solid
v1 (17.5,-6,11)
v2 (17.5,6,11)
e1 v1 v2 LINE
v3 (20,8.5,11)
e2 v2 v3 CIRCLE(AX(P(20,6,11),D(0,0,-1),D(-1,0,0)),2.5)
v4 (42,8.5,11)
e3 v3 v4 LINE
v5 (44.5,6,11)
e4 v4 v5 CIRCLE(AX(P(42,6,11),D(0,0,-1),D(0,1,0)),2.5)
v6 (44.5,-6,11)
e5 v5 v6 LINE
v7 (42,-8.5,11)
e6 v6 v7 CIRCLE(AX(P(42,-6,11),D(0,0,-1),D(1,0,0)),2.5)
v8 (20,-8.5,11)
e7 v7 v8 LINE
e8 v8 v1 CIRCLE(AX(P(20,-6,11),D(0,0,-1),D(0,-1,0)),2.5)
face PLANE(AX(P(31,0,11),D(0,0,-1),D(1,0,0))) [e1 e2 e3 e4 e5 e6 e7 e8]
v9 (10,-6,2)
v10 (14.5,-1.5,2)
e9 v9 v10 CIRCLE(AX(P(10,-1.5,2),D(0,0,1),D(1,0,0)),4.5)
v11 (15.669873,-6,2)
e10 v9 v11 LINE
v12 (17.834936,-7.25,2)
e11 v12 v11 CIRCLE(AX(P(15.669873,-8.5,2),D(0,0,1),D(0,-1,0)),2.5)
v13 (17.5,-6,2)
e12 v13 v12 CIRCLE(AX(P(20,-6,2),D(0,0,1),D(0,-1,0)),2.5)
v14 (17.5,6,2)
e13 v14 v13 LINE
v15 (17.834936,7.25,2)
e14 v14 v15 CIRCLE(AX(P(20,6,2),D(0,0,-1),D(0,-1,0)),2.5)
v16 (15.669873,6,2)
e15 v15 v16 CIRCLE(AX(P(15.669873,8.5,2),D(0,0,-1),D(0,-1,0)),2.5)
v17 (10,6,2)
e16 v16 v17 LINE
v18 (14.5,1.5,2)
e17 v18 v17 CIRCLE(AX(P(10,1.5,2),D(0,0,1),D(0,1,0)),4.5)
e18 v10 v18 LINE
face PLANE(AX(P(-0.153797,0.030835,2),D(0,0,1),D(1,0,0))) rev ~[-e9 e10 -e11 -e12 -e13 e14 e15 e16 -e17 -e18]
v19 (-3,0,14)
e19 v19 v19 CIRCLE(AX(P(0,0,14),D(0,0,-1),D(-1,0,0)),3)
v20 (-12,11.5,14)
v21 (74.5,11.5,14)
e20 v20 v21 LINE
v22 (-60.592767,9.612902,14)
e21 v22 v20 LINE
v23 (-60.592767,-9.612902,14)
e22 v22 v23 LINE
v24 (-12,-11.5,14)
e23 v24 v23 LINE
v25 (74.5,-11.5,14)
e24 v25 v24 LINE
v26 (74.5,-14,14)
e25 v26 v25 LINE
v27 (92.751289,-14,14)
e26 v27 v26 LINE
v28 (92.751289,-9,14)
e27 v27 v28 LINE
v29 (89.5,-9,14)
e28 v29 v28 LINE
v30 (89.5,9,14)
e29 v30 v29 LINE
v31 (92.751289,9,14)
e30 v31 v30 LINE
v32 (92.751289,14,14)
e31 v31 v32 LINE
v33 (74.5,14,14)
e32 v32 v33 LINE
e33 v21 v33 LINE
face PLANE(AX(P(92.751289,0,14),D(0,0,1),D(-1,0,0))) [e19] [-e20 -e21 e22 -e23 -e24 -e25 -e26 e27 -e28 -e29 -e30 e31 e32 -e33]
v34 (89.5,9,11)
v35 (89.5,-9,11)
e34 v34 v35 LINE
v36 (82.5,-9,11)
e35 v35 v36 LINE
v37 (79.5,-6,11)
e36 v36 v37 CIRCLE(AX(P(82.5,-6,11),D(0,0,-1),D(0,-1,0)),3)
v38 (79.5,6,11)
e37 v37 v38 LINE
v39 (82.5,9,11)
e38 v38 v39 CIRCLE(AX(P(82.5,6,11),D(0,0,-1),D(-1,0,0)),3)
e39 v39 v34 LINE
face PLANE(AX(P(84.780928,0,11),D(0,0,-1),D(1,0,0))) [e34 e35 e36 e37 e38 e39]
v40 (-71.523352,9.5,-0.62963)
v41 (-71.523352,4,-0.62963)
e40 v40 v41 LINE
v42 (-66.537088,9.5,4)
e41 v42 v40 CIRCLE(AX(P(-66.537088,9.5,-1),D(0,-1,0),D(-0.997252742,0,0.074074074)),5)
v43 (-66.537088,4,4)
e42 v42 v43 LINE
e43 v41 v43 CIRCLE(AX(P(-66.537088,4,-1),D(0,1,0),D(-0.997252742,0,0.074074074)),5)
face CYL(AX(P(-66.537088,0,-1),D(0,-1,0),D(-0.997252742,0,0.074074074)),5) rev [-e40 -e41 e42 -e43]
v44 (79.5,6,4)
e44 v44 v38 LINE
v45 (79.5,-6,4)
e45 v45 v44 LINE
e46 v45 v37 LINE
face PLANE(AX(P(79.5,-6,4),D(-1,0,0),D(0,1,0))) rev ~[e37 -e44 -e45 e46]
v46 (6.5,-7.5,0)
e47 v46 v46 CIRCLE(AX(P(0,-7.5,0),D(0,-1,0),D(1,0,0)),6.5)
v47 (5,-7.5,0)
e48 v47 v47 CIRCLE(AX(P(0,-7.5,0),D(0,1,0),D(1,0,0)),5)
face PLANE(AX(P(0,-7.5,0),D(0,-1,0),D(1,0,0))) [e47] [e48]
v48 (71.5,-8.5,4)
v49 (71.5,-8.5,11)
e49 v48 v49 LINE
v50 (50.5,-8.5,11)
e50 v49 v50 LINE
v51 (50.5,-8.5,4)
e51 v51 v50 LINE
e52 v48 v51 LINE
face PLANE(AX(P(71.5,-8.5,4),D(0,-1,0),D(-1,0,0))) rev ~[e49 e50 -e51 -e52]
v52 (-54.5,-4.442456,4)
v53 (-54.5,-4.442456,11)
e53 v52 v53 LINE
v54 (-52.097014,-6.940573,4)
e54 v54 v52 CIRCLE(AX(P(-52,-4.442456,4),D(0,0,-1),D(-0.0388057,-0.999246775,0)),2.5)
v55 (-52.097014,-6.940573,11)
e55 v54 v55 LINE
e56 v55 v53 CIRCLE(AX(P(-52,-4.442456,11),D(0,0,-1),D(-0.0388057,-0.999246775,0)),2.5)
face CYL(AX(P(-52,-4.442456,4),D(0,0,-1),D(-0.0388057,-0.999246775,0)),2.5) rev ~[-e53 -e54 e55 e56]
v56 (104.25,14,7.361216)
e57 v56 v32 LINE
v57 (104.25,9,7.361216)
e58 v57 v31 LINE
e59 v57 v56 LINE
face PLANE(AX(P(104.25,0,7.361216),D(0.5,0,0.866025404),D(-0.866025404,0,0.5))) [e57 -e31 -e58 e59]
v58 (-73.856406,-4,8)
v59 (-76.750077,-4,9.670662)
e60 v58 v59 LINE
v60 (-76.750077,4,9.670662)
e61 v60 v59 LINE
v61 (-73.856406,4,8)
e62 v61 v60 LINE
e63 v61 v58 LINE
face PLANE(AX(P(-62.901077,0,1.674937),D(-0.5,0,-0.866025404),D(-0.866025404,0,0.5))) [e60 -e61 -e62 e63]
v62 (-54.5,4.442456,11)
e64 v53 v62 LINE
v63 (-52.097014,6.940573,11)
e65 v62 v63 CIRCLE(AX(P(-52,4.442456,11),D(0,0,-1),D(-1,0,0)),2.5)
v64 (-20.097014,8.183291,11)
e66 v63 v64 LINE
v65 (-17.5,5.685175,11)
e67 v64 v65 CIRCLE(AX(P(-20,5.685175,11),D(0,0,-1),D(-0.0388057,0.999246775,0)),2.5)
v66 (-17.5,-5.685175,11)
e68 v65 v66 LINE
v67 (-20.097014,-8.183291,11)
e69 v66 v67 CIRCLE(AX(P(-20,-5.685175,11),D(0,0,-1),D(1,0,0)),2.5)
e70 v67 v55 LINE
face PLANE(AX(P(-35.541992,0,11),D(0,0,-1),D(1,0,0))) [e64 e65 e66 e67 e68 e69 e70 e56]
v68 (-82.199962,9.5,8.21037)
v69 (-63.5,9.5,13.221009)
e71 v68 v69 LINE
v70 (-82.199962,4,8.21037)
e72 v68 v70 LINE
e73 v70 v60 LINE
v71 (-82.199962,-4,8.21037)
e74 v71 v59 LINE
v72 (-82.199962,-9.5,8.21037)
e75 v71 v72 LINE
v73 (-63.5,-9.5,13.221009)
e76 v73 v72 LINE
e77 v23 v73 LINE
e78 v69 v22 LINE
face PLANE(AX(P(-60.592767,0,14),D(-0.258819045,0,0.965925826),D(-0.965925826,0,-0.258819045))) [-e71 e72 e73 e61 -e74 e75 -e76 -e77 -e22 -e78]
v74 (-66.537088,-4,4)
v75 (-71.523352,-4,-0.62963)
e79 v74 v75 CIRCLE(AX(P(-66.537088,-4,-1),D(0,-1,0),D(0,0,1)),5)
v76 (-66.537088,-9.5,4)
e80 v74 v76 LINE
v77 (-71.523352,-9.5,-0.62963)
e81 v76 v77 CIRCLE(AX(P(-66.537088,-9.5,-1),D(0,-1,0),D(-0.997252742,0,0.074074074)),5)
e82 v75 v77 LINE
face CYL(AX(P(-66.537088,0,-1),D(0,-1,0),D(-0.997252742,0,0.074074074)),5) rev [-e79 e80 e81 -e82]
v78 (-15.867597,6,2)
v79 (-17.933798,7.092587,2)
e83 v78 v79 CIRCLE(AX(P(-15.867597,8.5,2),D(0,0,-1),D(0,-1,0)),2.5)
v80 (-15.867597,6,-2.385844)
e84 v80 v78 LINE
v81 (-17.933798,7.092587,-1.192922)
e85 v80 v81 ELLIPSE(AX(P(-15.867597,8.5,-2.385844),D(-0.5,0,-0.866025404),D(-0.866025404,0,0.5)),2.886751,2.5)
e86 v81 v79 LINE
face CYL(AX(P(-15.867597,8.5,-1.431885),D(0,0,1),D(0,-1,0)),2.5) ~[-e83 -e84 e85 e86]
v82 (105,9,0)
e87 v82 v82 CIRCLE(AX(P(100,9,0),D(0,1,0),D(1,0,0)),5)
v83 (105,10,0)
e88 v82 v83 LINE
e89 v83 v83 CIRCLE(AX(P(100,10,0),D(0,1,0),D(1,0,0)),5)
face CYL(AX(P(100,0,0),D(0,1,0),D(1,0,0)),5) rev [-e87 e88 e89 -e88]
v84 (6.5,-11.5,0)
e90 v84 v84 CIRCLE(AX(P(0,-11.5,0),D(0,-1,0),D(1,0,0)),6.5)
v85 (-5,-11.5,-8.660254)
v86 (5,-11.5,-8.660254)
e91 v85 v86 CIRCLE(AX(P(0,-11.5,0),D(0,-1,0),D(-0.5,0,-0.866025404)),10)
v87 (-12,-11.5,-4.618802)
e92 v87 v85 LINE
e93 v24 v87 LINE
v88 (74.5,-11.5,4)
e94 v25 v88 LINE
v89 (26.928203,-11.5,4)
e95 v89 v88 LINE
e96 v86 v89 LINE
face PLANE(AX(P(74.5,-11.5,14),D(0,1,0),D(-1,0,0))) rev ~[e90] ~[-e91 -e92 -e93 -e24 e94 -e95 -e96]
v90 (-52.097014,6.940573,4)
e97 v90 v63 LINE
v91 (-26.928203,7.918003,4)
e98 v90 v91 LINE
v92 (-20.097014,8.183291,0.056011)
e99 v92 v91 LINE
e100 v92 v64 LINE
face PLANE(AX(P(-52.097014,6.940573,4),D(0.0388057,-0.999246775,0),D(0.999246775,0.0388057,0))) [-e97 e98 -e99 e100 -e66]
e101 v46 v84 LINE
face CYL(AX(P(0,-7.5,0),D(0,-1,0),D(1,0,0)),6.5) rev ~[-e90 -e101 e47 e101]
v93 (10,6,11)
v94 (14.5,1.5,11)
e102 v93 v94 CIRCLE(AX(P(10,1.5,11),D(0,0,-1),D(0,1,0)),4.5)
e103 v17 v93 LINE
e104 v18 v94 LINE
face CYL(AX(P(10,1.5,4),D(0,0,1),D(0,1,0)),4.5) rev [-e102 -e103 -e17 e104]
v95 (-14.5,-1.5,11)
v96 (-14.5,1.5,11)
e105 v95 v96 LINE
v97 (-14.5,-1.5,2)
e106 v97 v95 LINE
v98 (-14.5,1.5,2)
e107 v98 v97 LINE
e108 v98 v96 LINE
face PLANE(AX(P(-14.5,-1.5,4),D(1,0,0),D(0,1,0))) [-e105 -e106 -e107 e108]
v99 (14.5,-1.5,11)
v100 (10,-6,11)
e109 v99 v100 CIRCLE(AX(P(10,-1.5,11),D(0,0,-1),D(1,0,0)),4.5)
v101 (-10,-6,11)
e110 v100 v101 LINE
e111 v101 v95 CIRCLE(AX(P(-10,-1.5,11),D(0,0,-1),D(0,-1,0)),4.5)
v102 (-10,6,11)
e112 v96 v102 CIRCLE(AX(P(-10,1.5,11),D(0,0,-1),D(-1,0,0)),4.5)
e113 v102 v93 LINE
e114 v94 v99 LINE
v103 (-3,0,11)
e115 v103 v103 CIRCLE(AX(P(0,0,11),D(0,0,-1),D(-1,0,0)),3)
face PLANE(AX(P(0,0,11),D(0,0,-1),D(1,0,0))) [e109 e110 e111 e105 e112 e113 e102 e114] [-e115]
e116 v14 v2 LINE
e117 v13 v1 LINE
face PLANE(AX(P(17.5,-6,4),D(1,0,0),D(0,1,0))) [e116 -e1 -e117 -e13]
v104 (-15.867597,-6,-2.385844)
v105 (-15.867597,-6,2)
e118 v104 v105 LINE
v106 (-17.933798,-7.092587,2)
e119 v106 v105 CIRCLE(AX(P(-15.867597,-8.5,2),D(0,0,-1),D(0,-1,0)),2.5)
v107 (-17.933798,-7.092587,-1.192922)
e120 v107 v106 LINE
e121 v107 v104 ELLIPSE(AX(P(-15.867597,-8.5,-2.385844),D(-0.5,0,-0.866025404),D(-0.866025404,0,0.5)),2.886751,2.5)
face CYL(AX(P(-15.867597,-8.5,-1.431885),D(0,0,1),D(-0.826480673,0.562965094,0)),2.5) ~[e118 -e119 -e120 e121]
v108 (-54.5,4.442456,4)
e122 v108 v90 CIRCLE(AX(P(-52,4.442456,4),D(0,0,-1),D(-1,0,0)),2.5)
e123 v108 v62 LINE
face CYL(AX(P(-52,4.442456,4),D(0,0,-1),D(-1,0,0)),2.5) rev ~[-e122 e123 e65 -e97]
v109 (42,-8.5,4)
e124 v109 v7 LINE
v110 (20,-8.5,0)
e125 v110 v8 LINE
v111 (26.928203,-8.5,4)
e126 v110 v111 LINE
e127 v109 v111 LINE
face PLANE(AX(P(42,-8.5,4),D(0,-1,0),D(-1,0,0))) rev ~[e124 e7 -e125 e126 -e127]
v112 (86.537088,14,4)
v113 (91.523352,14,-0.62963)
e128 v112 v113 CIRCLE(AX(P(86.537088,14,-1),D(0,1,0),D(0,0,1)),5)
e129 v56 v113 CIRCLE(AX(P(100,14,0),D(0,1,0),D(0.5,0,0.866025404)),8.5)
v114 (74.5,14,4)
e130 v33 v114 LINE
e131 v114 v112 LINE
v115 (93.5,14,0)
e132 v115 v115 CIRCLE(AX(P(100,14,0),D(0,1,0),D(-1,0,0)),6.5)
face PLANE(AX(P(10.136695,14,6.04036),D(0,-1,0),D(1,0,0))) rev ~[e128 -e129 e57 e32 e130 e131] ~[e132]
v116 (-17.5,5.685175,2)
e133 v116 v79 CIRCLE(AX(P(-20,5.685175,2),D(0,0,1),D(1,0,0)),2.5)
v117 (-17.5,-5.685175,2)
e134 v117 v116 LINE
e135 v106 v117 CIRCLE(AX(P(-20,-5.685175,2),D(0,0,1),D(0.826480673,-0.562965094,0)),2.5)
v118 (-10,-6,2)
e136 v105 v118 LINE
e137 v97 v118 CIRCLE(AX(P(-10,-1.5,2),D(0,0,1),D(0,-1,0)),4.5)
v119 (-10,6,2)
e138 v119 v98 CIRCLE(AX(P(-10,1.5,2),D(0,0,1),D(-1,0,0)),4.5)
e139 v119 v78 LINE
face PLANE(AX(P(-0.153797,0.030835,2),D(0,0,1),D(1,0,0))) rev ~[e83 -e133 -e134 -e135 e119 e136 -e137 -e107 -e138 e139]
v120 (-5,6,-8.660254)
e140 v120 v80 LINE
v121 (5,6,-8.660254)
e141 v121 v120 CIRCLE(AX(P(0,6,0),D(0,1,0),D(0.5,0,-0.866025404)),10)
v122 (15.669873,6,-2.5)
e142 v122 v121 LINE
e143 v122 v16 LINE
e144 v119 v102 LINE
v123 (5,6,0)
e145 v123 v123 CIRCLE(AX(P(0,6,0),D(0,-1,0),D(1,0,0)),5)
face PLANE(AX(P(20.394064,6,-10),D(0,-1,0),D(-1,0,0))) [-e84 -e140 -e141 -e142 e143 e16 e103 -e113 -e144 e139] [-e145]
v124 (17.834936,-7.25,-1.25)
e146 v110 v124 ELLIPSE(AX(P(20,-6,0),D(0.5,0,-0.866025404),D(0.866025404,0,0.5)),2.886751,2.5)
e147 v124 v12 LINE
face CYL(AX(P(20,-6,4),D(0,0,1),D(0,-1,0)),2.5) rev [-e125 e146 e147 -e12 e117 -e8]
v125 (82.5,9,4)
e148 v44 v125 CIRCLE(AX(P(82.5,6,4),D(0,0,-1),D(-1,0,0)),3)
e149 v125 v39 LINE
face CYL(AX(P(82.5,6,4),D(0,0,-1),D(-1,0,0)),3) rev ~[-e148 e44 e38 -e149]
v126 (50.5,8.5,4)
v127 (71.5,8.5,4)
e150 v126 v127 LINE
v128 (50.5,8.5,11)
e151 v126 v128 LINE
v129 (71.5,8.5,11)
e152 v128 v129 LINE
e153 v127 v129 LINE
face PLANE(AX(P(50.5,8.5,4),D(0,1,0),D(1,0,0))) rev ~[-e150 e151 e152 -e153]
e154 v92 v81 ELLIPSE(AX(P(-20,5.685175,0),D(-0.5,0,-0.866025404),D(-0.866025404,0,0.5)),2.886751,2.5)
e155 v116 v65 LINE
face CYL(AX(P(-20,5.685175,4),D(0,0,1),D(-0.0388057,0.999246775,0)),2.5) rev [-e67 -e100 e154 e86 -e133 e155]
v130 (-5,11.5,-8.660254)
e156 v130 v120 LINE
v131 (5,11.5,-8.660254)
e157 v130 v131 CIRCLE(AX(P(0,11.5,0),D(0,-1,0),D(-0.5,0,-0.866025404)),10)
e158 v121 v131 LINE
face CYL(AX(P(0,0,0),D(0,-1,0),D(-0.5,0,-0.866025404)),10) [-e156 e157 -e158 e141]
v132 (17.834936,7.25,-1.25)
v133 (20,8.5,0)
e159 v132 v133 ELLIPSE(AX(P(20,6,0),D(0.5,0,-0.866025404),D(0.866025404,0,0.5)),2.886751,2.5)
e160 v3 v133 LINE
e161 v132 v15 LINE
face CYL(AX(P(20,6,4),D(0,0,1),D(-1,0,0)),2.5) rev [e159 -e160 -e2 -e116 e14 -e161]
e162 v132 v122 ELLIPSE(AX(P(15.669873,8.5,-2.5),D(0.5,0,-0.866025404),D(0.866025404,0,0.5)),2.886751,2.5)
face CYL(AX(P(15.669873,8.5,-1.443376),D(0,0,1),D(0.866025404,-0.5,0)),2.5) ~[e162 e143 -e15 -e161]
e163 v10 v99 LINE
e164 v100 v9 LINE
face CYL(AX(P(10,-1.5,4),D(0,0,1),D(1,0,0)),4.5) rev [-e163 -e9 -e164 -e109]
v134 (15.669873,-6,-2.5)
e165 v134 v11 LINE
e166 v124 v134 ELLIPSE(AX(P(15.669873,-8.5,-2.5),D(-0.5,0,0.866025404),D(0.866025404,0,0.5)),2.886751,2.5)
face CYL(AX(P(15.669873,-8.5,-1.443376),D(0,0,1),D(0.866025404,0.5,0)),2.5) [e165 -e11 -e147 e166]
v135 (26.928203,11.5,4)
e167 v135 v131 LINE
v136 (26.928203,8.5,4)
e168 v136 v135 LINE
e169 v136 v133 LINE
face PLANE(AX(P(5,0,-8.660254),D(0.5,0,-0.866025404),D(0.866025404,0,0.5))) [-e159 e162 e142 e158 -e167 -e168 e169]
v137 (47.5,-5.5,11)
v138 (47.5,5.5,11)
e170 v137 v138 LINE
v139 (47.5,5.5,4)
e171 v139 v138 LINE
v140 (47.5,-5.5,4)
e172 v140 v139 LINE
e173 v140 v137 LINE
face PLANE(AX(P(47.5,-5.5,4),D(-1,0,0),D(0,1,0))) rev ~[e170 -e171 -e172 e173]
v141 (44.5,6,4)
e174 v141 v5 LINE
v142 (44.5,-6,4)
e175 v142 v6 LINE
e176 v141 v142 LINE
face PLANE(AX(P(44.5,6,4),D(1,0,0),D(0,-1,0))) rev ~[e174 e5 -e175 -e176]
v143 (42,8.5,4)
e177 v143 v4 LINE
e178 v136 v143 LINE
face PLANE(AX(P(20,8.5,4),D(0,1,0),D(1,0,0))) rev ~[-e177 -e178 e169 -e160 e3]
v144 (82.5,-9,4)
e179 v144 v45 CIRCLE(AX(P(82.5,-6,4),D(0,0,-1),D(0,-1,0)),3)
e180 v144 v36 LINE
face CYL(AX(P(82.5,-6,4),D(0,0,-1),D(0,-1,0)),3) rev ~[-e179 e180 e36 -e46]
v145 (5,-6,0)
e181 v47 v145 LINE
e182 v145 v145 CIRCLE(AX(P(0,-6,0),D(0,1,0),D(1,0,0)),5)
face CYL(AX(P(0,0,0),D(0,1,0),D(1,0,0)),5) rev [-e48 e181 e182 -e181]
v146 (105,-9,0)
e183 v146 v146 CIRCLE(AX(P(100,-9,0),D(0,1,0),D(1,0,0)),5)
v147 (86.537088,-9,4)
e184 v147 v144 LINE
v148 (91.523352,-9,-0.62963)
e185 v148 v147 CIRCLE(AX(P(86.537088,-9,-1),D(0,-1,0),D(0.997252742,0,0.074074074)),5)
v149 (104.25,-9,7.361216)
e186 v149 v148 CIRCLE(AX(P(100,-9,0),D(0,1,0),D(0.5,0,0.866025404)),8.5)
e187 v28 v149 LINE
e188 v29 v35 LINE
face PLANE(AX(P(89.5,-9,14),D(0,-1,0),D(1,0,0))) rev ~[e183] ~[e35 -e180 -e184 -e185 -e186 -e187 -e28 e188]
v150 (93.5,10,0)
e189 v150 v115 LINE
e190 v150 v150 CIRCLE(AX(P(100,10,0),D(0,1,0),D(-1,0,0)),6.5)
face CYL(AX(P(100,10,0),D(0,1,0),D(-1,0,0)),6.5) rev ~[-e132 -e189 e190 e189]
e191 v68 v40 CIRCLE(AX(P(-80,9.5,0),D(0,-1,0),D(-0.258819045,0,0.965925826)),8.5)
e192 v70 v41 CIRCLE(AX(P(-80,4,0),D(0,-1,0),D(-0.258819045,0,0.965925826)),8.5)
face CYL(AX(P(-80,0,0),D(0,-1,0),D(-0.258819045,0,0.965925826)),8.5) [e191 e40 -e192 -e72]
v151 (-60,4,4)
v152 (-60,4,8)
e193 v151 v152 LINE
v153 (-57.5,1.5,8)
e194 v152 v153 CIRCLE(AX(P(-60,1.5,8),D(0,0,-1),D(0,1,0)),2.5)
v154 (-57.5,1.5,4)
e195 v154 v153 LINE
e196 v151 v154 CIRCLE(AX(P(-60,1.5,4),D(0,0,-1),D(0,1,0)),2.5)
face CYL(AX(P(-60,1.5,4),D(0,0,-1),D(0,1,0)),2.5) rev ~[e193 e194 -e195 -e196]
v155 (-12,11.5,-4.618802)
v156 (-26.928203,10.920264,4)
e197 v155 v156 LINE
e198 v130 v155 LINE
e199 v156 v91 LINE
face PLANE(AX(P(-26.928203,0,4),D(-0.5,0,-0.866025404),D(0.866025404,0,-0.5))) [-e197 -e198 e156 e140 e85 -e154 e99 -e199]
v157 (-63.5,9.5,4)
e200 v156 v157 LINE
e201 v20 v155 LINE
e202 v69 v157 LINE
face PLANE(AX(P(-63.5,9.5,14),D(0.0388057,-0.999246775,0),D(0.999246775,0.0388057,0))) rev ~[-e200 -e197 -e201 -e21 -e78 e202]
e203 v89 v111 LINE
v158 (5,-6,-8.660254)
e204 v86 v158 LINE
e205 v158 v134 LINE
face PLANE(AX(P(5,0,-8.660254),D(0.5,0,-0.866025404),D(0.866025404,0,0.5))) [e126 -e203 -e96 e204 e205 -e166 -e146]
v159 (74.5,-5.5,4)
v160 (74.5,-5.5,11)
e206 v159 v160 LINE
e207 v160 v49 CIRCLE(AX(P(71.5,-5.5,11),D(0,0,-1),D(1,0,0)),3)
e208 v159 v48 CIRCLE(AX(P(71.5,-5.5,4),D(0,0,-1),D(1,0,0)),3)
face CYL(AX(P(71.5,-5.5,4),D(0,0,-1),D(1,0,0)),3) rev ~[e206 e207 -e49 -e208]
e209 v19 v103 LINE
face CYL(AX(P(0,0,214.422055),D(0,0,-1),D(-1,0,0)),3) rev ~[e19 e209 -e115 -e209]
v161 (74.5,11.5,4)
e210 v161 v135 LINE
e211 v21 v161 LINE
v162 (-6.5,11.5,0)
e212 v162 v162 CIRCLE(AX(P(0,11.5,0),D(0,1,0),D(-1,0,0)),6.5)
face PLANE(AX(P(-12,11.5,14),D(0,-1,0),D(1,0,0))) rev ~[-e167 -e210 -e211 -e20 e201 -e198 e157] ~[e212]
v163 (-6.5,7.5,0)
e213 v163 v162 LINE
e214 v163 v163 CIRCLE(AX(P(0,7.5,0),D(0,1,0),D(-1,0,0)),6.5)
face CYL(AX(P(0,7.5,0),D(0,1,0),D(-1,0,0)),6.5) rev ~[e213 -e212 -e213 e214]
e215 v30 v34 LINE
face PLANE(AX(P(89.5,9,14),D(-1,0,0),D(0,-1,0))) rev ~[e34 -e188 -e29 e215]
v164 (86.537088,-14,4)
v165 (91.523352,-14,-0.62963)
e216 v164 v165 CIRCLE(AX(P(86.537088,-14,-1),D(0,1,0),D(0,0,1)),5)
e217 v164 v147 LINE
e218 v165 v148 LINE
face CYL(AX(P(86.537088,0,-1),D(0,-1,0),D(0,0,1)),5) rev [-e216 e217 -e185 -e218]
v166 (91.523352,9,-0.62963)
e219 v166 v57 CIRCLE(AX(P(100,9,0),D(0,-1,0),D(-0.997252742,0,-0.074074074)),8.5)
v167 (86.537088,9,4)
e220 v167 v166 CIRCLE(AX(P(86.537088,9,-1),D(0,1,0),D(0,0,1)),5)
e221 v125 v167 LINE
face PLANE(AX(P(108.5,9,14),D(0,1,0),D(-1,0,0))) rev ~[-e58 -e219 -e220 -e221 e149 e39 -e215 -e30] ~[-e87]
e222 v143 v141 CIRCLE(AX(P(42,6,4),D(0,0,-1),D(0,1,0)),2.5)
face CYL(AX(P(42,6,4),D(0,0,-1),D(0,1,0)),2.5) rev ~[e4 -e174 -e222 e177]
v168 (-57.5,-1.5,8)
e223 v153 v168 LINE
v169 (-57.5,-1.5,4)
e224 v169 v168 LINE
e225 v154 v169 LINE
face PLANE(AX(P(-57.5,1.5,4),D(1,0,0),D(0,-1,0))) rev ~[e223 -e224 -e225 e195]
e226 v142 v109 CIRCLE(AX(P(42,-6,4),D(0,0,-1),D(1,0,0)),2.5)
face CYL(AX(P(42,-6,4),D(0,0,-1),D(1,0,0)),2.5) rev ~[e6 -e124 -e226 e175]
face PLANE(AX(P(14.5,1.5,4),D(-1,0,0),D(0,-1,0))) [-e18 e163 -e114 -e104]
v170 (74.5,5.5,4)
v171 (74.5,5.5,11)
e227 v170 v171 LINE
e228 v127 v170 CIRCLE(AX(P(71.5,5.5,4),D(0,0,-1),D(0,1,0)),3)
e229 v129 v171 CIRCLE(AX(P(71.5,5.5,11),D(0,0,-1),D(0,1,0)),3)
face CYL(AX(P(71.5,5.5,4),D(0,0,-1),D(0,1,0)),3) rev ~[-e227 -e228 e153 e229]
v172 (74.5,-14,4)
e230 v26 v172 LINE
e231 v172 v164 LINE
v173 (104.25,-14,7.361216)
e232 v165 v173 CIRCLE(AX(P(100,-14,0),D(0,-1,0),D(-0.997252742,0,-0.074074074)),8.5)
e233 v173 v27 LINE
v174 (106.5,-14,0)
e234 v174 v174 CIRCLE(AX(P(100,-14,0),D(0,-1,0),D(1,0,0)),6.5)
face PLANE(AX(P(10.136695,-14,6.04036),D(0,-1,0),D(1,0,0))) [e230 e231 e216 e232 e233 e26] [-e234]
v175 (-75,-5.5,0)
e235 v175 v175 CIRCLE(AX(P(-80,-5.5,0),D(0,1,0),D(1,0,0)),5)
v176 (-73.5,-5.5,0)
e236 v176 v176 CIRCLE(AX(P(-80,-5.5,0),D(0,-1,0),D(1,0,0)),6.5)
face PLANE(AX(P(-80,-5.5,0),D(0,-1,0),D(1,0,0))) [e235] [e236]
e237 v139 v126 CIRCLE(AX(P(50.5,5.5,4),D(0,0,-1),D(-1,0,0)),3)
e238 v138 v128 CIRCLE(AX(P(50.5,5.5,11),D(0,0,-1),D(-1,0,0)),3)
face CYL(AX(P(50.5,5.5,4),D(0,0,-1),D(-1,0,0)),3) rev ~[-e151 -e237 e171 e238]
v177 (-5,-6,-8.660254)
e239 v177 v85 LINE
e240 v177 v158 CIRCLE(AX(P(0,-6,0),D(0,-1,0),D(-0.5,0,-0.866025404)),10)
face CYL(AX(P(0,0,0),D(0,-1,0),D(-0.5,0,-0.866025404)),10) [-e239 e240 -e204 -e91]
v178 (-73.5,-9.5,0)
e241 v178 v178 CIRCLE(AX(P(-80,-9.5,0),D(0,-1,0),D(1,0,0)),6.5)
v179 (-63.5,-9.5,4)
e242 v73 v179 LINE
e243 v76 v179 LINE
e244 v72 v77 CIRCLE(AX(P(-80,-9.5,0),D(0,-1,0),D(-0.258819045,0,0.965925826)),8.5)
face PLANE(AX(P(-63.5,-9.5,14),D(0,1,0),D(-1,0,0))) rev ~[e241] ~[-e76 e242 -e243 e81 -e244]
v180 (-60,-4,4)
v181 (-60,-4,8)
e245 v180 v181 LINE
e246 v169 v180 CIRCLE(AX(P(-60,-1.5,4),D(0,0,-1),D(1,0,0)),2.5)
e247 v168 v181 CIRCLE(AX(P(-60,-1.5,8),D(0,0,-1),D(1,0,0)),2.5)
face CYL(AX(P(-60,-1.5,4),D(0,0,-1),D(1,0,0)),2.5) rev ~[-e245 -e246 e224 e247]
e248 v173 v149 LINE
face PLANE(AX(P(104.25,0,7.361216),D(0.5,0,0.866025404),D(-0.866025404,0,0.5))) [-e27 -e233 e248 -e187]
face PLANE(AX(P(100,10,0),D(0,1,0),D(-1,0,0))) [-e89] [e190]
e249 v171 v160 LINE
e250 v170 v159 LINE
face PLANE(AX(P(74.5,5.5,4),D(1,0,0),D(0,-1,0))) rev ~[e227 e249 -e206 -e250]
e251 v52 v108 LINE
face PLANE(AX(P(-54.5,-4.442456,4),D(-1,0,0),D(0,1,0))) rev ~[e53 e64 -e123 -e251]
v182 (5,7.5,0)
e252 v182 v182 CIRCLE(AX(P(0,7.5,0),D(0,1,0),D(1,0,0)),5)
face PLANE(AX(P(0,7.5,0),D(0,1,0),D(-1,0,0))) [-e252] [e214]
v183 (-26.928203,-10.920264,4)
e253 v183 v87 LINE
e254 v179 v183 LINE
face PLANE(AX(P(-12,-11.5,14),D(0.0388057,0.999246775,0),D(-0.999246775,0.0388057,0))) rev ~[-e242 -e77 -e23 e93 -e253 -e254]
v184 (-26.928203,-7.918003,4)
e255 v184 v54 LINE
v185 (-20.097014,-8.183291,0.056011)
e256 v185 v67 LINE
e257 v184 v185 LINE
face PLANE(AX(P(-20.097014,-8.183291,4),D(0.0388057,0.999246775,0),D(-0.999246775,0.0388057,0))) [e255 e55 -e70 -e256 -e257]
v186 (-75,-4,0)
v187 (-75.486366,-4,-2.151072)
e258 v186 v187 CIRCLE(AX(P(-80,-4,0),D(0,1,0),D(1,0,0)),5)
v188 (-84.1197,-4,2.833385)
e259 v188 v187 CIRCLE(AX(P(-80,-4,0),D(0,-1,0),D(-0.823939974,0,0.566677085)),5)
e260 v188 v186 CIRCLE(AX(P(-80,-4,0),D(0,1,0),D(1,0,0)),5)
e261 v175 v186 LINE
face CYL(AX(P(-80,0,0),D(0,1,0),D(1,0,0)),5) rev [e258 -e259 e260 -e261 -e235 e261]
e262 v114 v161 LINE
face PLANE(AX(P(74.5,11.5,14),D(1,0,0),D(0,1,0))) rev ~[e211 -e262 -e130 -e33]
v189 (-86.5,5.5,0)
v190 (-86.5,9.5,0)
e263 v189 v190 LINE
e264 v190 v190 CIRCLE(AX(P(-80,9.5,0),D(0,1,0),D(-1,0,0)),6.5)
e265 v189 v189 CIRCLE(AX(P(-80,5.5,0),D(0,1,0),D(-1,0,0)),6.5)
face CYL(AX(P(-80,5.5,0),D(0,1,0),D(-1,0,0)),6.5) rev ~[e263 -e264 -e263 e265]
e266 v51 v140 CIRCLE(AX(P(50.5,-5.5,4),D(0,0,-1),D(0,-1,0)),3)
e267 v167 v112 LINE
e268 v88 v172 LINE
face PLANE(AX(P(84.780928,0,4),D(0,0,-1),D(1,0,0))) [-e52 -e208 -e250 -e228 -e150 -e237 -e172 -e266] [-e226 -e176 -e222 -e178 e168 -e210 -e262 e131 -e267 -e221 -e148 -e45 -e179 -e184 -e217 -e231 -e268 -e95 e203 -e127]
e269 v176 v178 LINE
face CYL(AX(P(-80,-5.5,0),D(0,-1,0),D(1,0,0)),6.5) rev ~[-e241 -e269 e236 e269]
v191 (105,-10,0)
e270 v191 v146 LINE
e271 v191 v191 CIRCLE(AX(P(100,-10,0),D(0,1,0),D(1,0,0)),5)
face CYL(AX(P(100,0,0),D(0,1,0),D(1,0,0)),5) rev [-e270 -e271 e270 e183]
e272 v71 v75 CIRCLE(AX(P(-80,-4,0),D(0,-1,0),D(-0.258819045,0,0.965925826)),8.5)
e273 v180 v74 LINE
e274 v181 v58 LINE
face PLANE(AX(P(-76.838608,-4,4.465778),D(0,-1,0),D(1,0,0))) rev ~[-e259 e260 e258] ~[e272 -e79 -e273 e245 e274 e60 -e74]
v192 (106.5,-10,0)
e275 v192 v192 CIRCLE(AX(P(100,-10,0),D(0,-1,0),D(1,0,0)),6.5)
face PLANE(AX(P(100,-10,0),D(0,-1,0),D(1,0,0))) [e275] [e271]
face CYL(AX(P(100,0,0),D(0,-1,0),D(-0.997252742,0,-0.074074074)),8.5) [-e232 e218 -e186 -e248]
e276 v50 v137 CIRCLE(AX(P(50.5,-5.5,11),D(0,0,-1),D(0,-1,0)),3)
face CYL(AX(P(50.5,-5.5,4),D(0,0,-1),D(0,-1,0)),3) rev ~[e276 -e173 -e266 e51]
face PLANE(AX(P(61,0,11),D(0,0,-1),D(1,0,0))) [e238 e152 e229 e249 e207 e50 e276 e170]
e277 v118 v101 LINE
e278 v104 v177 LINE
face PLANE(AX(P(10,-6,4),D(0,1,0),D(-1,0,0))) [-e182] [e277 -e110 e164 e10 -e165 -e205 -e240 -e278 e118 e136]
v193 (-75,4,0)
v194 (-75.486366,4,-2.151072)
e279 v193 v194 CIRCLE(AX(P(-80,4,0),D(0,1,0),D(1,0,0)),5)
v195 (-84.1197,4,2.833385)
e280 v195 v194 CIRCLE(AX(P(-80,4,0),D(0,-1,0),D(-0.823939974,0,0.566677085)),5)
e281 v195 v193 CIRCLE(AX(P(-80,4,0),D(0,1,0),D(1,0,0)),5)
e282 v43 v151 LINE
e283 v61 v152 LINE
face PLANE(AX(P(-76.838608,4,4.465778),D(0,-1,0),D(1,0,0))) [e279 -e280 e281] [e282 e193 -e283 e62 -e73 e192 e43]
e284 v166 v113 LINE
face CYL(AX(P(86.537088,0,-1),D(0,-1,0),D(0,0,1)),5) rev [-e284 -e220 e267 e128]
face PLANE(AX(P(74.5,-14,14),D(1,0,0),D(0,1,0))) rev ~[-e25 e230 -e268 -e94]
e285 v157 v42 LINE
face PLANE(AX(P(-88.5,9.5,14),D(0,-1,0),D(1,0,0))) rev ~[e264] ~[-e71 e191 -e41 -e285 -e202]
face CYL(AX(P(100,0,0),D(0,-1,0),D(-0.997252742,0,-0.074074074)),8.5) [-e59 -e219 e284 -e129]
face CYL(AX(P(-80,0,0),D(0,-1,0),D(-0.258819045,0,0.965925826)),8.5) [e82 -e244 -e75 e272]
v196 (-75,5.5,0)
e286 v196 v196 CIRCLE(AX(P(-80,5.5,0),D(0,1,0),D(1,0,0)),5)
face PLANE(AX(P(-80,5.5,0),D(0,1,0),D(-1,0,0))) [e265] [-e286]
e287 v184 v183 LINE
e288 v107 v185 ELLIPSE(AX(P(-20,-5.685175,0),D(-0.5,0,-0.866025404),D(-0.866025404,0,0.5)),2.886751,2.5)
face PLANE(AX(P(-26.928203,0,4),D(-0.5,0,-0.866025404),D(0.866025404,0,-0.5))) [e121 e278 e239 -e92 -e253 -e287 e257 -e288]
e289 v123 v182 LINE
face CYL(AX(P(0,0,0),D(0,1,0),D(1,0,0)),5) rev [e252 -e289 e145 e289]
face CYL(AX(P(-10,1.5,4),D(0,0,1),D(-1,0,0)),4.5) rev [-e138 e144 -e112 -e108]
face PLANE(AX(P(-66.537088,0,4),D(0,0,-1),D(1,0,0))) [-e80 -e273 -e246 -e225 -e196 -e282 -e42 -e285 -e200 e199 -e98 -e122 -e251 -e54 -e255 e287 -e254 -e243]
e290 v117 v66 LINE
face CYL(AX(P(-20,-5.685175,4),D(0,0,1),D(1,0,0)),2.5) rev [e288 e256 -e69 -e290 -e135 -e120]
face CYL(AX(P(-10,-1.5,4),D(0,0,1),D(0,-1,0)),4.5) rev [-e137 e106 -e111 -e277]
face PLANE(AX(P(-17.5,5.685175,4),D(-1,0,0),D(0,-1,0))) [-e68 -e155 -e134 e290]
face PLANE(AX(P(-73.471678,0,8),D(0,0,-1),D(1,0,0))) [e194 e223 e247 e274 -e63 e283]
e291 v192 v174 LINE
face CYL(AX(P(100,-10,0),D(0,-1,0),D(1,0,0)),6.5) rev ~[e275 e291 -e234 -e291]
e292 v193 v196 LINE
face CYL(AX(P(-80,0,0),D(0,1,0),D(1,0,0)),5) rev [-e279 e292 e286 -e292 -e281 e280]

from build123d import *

# Parameters (mm, degrees)
F0_R                   = 5
F1_DEPTH               = 14
F2_W                   = 220
F2_H                   = 50
F3_DEPTH               = 25
F5_DEPTH               = 25
F5_DEPTH_BACK          = 7
F7_DEPTH               = 25
F7_DEPTH_BACK          = 4
F9_DEPTH               = 4
F9_DEPTH_BACK          = 4
F12_DEPTH              = 12
F13_R                  = 2.5
F14_D                  = 6
F18_D                  = 1
F18_DEPTH              = 12
F18_CBORE_D            = 13
F18_CBORE_DEPTH        = 4
F18_TIP                = 0.3004303095
F18_ON_F16_D           = 1
F18_ON_F16_DEPTH       = 12
F18_ON_F16_CBORE_D     = 13
F18_ON_F16_CBORE_DEPTH = 4
F18_ON_F16_TIP         = 0.3004303095
F18_ON_F17_D           = 1
F18_ON_F17_DEPTH       = 12
F18_ON_F17_CBORE_D     = 13
F18_ON_F17_CBORE_DEPTH = 4
F18_ON_F17_TIP         = 0.3004303095
F22_D                  = 1
F22_DEPTH              = 12
F22_CBORE_D            = 13
F22_CBORE_DEPTH        = 4
F22_TIP                = 0.3004303095
F22_ON_F20_D           = 1
F22_ON_F20_DEPTH       = 12
F22_ON_F20_CBORE_D     = 13
F22_ON_F20_CBORE_DEPTH = 4
F22_ON_F20_TIP         = 0.3004303095
F22_ON_F21_D           = 1
F22_ON_F21_DEPTH       = 12
F22_ON_F21_CBORE_D     = 13
F22_ON_F21_CBORE_DEPTH = 4
F22_ON_F21_TIP         = 0.3004303095


with BuildPart() as f1:
    # F0 (on Front) → F1 (new body, symmetric)
    with BuildSketch(Plane.XZ):
        with BuildLine():
            Line((92.751288694, 14), (-60.5927667879, 14))
            Line((-60.5927667879, 14), (-82.1999618834, 8.2103695235))
            ThreePointArc((-82.1999618834, 8.2103695235), (-85.4208481231, -6.5470913868), (-71.5233516925, -0.6296296296))
            ThreePointArc((-71.5233516925, -0.6296296296), (-69.9391570694, 2.664140544), (-66.5370879822, 4))
            Line((-66.5370879822, 4), (-26.9282032303, 4))
            Line((-26.9282032303, 4), (-5, -8.6602540378))
            ThreePointArc((-5, -8.6602540378), (0, -10), (5, -8.6602540378))
            Line((5, -8.6602540378), (26.9282032303, 4))
            Line((26.9282032303, 4), (86.5370879822, 4))
            ThreePointArc((86.5370879822, 4), (89.9391570694, 2.664140544), (91.5233516925, -0.6296296296))
            ThreePointArc((91.5233516925, -0.6296296296), (104.5199051071, -7.1986427765), (104.25, 7.3612159322))
            Line((104.25, 7.3612159322), (92.751288694, 14))
        make_face()
        with Locations((-80, 0)):
            Circle(F0_R, mode=Mode.SUBTRACT)
        Circle(F0_R, mode=Mode.SUBTRACT)
        with Locations((100, 0)):
            Circle(F0_R, mode=Mode.SUBTRACT)
    extrude(amount=F1_DEPTH, both=True)

    # F2 (on face) → F3 (cut)
    with BuildSketch(Plane.XY.offset(14)):
        with Locations((10, 0)):
            Rectangle(F2_W, F2_H)
        Polygon((-63.5, -9.5), (-88.5, -9.5), (-88.5, 9.5), (-63.5, 9.5), (-12, 11.5), (74.5, 11.5), (74.5, 14), (108.5, 14), (108.5, 9), (89.5, 9), (89.5, -9), (108.5, -9), (108.5, -14), (74.5, -14), (74.5, -11.5), (-12, -11.5), align=None, mode=Mode.SUBTRACT)
    extrude(amount=-F3_DEPTH, mode=Mode.SUBTRACT)

    # F4 (on face) → F5 (cut, two sides)
    with BuildSketch(Plane(origin=(0, 0, 4), x_dir=(1, 0, 0), z_dir=(0, 0, -1))) as f5_sk:
        with BuildLine():
            ThreePointArc((74.5, 5.5), (73.6213203436, 7.6213203436), (71.5, 8.5))
            Line((71.5, 8.5), (50.5, 8.5))
            ThreePointArc((50.5, 8.5), (48.3786796564, 7.6213203436), (47.5, 5.5))
            Line((47.5, 5.5), (47.5, -5.5))
            ThreePointArc((47.5, -5.5), (48.3786796564, -7.6213203436), (50.5, -8.5))
            Line((50.5, -8.5), (71.5, -8.5))
            ThreePointArc((71.5, -8.5), (73.6213203436, -7.6213203436), (74.5, -5.5))
            Line((74.5, -5.5), (74.5, 5.5))
        make_face()
        with BuildLine():
            Line((44.5, -6), (44.5, 6))
            ThreePointArc((44.5, 6), (43.767766953, 7.767766953), (42, 8.5))
            Line((42, 8.5), (20, 8.5))
            ThreePointArc((20, 8.5), (18.232233047, 7.767766953), (17.5, 6))
            Line((17.5, 6), (17.5, -6))
            ThreePointArc((17.5, -6), (18.232233047, -7.767766953), (20, -8.5))
            Line((20, -8.5), (42, -8.5))
            ThreePointArc((42, -8.5), (43.767766953, -7.767766953), (44.5, -6))
        make_face()
        with BuildLine():
            Line((89.5, -9), (89.5, 9))
            Line((89.5, 9), (82.5, 9))
            ThreePointArc((82.5, 9), (80.3786796564, 8.1213203436), (79.5, 6))
            Line((79.5, 6), (79.5, -6))
            ThreePointArc((79.5, -6), (80.3786796564, -8.1213203436), (82.5, -9))
            Line((82.5, -9), (89.5, -9))
        make_face()
        with BuildLine():
            Line((-17.5, -5.6851745289), (-17.5, 5.6851745289))
            ThreePointArc((-17.5, 5.6851745289), (-18.2668721376, 7.4869147467), (-20.09701425, 8.1832914668))
            Line((-20.09701425, 8.1832914668), (-52.09701425, 6.9405730202))
            ThreePointArc((-52.09701425, 6.9405730202), (-53.8017402178, 6.1755839447), (-54.5, 4.4424560823))
            Line((-54.5, 4.4424560823), (-54.5, -4.4424560823))
            ThreePointArc((-54.5, -4.4424560823), (-53.8017402178, -6.1755839447), (-52.09701425, -6.9405730202))
            Line((-52.09701425, -6.9405730202), (-20.09701425, -8.1832914668))
            ThreePointArc((-20.09701425, -8.1832914668), (-18.2668721376, -7.4869147467), (-17.5, -5.6851745289))
        make_face()
        with BuildLine():
            Line((-14.5, 1.5), (-14.5, -1.5))
            ThreePointArc((-14.5, -1.5), (-13.1819805153, -4.6819805153), (-10, -6))
            Line((-10, -6), (10, -6))
            ThreePointArc((10, -6), (13.1819805153, -4.6819805153), (14.5, -1.5))
            Line((14.5, -1.5), (14.5, 1.5))
            ThreePointArc((14.5, 1.5), (13.1819805153, 4.6819805153), (10, 6))
            Line((10, 6), (-10, 6))
            ThreePointArc((-10, 6), (-13.1819805153, 4.6819805153), (-14.5, 1.5))
        make_face()
    extrude(amount=F5_DEPTH, mode=Mode.SUBTRACT)
    extrude(f5_sk.sketch, amount=-F5_DEPTH_BACK, mode=Mode.SUBTRACT)

    # F6 (on face) → F7 (cut, two sides)
    with BuildSketch(Plane(origin=(0, 0, 4), x_dir=(1, 0, 0), z_dir=(0, 0, -1))) as f7_sk:
        with BuildLine():
            Line((-88.5, 4), (-88.5, -4))
            Line((-88.5, -4), (-60, -4))
            ThreePointArc((-60, -4), (-58.232233047, -3.267766953), (-57.5, -1.5))
            Line((-57.5, -1.5), (-57.5, 1.5))
            ThreePointArc((-57.5, 1.5), (-58.232233047, 3.267766953), (-60, 4))
            Line((-60, 4), (-88.5, 4))
        make_face()
    extrude(amount=F7_DEPTH, mode=Mode.SUBTRACT)
    extrude(f7_sk.sketch, amount=-F7_DEPTH_BACK, mode=Mode.SUBTRACT)

    # F8 (on Front) → F9 (cut, two sides)
    with BuildSketch(Plane.XZ) as f9_sk:
        with BuildLine():
            Line((-62.9010767594, 1.674937448), (-86.0737760563, 15.0537016249))
            Line((-86.0737760563, 15.0537016249), (-90.8768091461, 6.7346042829))
            Line((-90.8768091461, 6.7346042829), (-84.1196998721, 2.8333854245))
            ThreePointArc((-84.1196998721, 2.8333854245), (-78.5165073914, 4.7748559853), (-75, 0))
            ThreePointArc((-75, 0), (-75.123107113, -1.1026857073), (-75.4863663076, -2.1510720329))
            Line((-75.4863663076, -2.1510720329), (-67.9411956859, -6.5072783225))
            Line((-67.9411956859, -6.5072783225), (-62.9010767594, 1.674937448))
        make_face()
        with BuildLine():
            Line((-75.4863663076, -2.1510720329), (-84.1196998721, 2.8333854245))
            ThreePointArc((-84.1196998721, 2.8333854245), (-82.5, -4.3301270189), (-75.4863663076, -2.1510720329))
        make_face()
        with BuildLine():
            ThreePointArc((-75, 0), (-78.5165073914, 4.7748559853), (-84.1196998721, 2.8333854245))
            Line((-84.1196998721, 2.8333854245), (-75.4863663076, -2.1510720329))
            ThreePointArc((-75.4863663076, -2.1510720329), (-75.123107113, -1.1026857073), (-75, 0))
        make_face()
    extrude(amount=-F9_DEPTH, mode=Mode.SUBTRACT)
    extrude(f9_sk.sketch, amount=F9_DEPTH_BACK, mode=Mode.SUBTRACT)

    # F11 (on offset) → F12 (cut)
    with BuildSketch(Plane.XY.offset(-10)):
        Polygon((-10, -6), (10, -6), (20.6807758659, -6), (20.394064486, 6), (10, 6), (-10, 6), (-21.2499145418, 6), (-20.4144921154, -6), align=None)
    extrude(amount=F12_DEPTH, mode=Mode.SUBTRACT)

    # F13
    f13_edges = [f1.edges().sort_by_distance(p)[0] for p in [
        (-17.519902, -6, 0.284057),
        (17.5, -6, 0.278312),
        (17.5, -6, 6.5),
        (-17.519902, 6, 0.284057),
        (17.5, 6, 0.278312),
        (17.5, 6, 6.5),
    ]]
    fillet(f13_edges, radius=F13_R)

    # F14 (through all)
    with Locations(Plane.XY.offset(14)):
        with Locations((0, 0)):
            Hole(F14_D / 2)

    # F18
    with Locations(Plane.XZ.offset(9.5)):
        with Locations((-80, 0)):
            CounterBoreHole(F18_D / 2, F18_CBORE_D / 2, F18_CBORE_DEPTH, depth=F18_DEPTH)
            with Locations((0, 0, -(F18_DEPTH + F18_TIP / 2))):  # 118° drill point
                Cone(0, F18_D / 2, F18_TIP, mode=Mode.SUBTRACT)

    # F18 on F16
    with Locations(Plane.XZ.offset(11.5)):
        with Locations((0, 0)):
            CounterBoreHole(F18_ON_F16_D / 2, F18_ON_F16_CBORE_D / 2, F18_ON_F16_CBORE_DEPTH, depth=F18_ON_F16_DEPTH)
            with Locations((0, 0, -(F18_ON_F16_DEPTH + F18_ON_F16_TIP / 2))):  # 118° drill point
                Cone(0, F18_ON_F16_D / 2, F18_ON_F16_TIP, mode=Mode.SUBTRACT)

    # F18 on F17
    with Locations(Plane.XZ.offset(14)):
        with Locations((100, 0)):
            CounterBoreHole(F18_ON_F17_D / 2, F18_ON_F17_CBORE_D / 2, F18_ON_F17_CBORE_DEPTH, depth=F18_ON_F17_DEPTH)
            with Locations((0, 0, -(F18_ON_F17_DEPTH + F18_ON_F17_TIP / 2))):  # 118° drill point
                Cone(0, F18_ON_F17_D / 2, F18_ON_F17_TIP, mode=Mode.SUBTRACT)

    # F22
    with Locations(Plane(origin=(0, 14, 0), x_dir=(-1, 0, 0), z_dir=(0, 1, 0))):
        with Locations((-100, 0)):
            CounterBoreHole(F22_D / 2, F22_CBORE_D / 2, F22_CBORE_DEPTH, depth=F22_DEPTH)
            with Locations((0, 0, -(F22_DEPTH + F22_TIP / 2))):  # 118° drill point
                Cone(0, F22_D / 2, F22_TIP, mode=Mode.SUBTRACT)

    # F22 on F20
    with Locations(Plane(origin=(0, 11.5, 0), x_dir=(-1, 0, 0), z_dir=(0, 1, 0))):
        with Locations((0, 0)):
            CounterBoreHole(F22_ON_F20_D / 2, F22_ON_F20_CBORE_D / 2, F22_ON_F20_CBORE_DEPTH, depth=F22_ON_F20_DEPTH)
            with Locations((0, 0, -(F22_ON_F20_DEPTH + F22_ON_F20_TIP / 2))):  # 118° drill point
                Cone(0, F22_ON_F20_D / 2, F22_ON_F20_TIP, mode=Mode.SUBTRACT)

    # F22 on F21
    with Locations(Plane(origin=(0, 9.5, 0), x_dir=(-1, 0, 0), z_dir=(0, 1, 0))):
        with Locations((80, 0)):
            CounterBoreHole(F22_ON_F21_D / 2, F22_ON_F21_CBORE_D / 2, F22_ON_F21_CBORE_DEPTH, depth=F22_ON_F21_DEPTH)
            with Locations((0, 0, -(F22_ON_F21_DEPTH + F22_ON_F21_TIP / 2))):  # 118° drill point
                Cone(0, F22_ON_F21_D / 2, F22_ON_F21_TIP, mode=Mode.SUBTRACT)


solid = f1.part
